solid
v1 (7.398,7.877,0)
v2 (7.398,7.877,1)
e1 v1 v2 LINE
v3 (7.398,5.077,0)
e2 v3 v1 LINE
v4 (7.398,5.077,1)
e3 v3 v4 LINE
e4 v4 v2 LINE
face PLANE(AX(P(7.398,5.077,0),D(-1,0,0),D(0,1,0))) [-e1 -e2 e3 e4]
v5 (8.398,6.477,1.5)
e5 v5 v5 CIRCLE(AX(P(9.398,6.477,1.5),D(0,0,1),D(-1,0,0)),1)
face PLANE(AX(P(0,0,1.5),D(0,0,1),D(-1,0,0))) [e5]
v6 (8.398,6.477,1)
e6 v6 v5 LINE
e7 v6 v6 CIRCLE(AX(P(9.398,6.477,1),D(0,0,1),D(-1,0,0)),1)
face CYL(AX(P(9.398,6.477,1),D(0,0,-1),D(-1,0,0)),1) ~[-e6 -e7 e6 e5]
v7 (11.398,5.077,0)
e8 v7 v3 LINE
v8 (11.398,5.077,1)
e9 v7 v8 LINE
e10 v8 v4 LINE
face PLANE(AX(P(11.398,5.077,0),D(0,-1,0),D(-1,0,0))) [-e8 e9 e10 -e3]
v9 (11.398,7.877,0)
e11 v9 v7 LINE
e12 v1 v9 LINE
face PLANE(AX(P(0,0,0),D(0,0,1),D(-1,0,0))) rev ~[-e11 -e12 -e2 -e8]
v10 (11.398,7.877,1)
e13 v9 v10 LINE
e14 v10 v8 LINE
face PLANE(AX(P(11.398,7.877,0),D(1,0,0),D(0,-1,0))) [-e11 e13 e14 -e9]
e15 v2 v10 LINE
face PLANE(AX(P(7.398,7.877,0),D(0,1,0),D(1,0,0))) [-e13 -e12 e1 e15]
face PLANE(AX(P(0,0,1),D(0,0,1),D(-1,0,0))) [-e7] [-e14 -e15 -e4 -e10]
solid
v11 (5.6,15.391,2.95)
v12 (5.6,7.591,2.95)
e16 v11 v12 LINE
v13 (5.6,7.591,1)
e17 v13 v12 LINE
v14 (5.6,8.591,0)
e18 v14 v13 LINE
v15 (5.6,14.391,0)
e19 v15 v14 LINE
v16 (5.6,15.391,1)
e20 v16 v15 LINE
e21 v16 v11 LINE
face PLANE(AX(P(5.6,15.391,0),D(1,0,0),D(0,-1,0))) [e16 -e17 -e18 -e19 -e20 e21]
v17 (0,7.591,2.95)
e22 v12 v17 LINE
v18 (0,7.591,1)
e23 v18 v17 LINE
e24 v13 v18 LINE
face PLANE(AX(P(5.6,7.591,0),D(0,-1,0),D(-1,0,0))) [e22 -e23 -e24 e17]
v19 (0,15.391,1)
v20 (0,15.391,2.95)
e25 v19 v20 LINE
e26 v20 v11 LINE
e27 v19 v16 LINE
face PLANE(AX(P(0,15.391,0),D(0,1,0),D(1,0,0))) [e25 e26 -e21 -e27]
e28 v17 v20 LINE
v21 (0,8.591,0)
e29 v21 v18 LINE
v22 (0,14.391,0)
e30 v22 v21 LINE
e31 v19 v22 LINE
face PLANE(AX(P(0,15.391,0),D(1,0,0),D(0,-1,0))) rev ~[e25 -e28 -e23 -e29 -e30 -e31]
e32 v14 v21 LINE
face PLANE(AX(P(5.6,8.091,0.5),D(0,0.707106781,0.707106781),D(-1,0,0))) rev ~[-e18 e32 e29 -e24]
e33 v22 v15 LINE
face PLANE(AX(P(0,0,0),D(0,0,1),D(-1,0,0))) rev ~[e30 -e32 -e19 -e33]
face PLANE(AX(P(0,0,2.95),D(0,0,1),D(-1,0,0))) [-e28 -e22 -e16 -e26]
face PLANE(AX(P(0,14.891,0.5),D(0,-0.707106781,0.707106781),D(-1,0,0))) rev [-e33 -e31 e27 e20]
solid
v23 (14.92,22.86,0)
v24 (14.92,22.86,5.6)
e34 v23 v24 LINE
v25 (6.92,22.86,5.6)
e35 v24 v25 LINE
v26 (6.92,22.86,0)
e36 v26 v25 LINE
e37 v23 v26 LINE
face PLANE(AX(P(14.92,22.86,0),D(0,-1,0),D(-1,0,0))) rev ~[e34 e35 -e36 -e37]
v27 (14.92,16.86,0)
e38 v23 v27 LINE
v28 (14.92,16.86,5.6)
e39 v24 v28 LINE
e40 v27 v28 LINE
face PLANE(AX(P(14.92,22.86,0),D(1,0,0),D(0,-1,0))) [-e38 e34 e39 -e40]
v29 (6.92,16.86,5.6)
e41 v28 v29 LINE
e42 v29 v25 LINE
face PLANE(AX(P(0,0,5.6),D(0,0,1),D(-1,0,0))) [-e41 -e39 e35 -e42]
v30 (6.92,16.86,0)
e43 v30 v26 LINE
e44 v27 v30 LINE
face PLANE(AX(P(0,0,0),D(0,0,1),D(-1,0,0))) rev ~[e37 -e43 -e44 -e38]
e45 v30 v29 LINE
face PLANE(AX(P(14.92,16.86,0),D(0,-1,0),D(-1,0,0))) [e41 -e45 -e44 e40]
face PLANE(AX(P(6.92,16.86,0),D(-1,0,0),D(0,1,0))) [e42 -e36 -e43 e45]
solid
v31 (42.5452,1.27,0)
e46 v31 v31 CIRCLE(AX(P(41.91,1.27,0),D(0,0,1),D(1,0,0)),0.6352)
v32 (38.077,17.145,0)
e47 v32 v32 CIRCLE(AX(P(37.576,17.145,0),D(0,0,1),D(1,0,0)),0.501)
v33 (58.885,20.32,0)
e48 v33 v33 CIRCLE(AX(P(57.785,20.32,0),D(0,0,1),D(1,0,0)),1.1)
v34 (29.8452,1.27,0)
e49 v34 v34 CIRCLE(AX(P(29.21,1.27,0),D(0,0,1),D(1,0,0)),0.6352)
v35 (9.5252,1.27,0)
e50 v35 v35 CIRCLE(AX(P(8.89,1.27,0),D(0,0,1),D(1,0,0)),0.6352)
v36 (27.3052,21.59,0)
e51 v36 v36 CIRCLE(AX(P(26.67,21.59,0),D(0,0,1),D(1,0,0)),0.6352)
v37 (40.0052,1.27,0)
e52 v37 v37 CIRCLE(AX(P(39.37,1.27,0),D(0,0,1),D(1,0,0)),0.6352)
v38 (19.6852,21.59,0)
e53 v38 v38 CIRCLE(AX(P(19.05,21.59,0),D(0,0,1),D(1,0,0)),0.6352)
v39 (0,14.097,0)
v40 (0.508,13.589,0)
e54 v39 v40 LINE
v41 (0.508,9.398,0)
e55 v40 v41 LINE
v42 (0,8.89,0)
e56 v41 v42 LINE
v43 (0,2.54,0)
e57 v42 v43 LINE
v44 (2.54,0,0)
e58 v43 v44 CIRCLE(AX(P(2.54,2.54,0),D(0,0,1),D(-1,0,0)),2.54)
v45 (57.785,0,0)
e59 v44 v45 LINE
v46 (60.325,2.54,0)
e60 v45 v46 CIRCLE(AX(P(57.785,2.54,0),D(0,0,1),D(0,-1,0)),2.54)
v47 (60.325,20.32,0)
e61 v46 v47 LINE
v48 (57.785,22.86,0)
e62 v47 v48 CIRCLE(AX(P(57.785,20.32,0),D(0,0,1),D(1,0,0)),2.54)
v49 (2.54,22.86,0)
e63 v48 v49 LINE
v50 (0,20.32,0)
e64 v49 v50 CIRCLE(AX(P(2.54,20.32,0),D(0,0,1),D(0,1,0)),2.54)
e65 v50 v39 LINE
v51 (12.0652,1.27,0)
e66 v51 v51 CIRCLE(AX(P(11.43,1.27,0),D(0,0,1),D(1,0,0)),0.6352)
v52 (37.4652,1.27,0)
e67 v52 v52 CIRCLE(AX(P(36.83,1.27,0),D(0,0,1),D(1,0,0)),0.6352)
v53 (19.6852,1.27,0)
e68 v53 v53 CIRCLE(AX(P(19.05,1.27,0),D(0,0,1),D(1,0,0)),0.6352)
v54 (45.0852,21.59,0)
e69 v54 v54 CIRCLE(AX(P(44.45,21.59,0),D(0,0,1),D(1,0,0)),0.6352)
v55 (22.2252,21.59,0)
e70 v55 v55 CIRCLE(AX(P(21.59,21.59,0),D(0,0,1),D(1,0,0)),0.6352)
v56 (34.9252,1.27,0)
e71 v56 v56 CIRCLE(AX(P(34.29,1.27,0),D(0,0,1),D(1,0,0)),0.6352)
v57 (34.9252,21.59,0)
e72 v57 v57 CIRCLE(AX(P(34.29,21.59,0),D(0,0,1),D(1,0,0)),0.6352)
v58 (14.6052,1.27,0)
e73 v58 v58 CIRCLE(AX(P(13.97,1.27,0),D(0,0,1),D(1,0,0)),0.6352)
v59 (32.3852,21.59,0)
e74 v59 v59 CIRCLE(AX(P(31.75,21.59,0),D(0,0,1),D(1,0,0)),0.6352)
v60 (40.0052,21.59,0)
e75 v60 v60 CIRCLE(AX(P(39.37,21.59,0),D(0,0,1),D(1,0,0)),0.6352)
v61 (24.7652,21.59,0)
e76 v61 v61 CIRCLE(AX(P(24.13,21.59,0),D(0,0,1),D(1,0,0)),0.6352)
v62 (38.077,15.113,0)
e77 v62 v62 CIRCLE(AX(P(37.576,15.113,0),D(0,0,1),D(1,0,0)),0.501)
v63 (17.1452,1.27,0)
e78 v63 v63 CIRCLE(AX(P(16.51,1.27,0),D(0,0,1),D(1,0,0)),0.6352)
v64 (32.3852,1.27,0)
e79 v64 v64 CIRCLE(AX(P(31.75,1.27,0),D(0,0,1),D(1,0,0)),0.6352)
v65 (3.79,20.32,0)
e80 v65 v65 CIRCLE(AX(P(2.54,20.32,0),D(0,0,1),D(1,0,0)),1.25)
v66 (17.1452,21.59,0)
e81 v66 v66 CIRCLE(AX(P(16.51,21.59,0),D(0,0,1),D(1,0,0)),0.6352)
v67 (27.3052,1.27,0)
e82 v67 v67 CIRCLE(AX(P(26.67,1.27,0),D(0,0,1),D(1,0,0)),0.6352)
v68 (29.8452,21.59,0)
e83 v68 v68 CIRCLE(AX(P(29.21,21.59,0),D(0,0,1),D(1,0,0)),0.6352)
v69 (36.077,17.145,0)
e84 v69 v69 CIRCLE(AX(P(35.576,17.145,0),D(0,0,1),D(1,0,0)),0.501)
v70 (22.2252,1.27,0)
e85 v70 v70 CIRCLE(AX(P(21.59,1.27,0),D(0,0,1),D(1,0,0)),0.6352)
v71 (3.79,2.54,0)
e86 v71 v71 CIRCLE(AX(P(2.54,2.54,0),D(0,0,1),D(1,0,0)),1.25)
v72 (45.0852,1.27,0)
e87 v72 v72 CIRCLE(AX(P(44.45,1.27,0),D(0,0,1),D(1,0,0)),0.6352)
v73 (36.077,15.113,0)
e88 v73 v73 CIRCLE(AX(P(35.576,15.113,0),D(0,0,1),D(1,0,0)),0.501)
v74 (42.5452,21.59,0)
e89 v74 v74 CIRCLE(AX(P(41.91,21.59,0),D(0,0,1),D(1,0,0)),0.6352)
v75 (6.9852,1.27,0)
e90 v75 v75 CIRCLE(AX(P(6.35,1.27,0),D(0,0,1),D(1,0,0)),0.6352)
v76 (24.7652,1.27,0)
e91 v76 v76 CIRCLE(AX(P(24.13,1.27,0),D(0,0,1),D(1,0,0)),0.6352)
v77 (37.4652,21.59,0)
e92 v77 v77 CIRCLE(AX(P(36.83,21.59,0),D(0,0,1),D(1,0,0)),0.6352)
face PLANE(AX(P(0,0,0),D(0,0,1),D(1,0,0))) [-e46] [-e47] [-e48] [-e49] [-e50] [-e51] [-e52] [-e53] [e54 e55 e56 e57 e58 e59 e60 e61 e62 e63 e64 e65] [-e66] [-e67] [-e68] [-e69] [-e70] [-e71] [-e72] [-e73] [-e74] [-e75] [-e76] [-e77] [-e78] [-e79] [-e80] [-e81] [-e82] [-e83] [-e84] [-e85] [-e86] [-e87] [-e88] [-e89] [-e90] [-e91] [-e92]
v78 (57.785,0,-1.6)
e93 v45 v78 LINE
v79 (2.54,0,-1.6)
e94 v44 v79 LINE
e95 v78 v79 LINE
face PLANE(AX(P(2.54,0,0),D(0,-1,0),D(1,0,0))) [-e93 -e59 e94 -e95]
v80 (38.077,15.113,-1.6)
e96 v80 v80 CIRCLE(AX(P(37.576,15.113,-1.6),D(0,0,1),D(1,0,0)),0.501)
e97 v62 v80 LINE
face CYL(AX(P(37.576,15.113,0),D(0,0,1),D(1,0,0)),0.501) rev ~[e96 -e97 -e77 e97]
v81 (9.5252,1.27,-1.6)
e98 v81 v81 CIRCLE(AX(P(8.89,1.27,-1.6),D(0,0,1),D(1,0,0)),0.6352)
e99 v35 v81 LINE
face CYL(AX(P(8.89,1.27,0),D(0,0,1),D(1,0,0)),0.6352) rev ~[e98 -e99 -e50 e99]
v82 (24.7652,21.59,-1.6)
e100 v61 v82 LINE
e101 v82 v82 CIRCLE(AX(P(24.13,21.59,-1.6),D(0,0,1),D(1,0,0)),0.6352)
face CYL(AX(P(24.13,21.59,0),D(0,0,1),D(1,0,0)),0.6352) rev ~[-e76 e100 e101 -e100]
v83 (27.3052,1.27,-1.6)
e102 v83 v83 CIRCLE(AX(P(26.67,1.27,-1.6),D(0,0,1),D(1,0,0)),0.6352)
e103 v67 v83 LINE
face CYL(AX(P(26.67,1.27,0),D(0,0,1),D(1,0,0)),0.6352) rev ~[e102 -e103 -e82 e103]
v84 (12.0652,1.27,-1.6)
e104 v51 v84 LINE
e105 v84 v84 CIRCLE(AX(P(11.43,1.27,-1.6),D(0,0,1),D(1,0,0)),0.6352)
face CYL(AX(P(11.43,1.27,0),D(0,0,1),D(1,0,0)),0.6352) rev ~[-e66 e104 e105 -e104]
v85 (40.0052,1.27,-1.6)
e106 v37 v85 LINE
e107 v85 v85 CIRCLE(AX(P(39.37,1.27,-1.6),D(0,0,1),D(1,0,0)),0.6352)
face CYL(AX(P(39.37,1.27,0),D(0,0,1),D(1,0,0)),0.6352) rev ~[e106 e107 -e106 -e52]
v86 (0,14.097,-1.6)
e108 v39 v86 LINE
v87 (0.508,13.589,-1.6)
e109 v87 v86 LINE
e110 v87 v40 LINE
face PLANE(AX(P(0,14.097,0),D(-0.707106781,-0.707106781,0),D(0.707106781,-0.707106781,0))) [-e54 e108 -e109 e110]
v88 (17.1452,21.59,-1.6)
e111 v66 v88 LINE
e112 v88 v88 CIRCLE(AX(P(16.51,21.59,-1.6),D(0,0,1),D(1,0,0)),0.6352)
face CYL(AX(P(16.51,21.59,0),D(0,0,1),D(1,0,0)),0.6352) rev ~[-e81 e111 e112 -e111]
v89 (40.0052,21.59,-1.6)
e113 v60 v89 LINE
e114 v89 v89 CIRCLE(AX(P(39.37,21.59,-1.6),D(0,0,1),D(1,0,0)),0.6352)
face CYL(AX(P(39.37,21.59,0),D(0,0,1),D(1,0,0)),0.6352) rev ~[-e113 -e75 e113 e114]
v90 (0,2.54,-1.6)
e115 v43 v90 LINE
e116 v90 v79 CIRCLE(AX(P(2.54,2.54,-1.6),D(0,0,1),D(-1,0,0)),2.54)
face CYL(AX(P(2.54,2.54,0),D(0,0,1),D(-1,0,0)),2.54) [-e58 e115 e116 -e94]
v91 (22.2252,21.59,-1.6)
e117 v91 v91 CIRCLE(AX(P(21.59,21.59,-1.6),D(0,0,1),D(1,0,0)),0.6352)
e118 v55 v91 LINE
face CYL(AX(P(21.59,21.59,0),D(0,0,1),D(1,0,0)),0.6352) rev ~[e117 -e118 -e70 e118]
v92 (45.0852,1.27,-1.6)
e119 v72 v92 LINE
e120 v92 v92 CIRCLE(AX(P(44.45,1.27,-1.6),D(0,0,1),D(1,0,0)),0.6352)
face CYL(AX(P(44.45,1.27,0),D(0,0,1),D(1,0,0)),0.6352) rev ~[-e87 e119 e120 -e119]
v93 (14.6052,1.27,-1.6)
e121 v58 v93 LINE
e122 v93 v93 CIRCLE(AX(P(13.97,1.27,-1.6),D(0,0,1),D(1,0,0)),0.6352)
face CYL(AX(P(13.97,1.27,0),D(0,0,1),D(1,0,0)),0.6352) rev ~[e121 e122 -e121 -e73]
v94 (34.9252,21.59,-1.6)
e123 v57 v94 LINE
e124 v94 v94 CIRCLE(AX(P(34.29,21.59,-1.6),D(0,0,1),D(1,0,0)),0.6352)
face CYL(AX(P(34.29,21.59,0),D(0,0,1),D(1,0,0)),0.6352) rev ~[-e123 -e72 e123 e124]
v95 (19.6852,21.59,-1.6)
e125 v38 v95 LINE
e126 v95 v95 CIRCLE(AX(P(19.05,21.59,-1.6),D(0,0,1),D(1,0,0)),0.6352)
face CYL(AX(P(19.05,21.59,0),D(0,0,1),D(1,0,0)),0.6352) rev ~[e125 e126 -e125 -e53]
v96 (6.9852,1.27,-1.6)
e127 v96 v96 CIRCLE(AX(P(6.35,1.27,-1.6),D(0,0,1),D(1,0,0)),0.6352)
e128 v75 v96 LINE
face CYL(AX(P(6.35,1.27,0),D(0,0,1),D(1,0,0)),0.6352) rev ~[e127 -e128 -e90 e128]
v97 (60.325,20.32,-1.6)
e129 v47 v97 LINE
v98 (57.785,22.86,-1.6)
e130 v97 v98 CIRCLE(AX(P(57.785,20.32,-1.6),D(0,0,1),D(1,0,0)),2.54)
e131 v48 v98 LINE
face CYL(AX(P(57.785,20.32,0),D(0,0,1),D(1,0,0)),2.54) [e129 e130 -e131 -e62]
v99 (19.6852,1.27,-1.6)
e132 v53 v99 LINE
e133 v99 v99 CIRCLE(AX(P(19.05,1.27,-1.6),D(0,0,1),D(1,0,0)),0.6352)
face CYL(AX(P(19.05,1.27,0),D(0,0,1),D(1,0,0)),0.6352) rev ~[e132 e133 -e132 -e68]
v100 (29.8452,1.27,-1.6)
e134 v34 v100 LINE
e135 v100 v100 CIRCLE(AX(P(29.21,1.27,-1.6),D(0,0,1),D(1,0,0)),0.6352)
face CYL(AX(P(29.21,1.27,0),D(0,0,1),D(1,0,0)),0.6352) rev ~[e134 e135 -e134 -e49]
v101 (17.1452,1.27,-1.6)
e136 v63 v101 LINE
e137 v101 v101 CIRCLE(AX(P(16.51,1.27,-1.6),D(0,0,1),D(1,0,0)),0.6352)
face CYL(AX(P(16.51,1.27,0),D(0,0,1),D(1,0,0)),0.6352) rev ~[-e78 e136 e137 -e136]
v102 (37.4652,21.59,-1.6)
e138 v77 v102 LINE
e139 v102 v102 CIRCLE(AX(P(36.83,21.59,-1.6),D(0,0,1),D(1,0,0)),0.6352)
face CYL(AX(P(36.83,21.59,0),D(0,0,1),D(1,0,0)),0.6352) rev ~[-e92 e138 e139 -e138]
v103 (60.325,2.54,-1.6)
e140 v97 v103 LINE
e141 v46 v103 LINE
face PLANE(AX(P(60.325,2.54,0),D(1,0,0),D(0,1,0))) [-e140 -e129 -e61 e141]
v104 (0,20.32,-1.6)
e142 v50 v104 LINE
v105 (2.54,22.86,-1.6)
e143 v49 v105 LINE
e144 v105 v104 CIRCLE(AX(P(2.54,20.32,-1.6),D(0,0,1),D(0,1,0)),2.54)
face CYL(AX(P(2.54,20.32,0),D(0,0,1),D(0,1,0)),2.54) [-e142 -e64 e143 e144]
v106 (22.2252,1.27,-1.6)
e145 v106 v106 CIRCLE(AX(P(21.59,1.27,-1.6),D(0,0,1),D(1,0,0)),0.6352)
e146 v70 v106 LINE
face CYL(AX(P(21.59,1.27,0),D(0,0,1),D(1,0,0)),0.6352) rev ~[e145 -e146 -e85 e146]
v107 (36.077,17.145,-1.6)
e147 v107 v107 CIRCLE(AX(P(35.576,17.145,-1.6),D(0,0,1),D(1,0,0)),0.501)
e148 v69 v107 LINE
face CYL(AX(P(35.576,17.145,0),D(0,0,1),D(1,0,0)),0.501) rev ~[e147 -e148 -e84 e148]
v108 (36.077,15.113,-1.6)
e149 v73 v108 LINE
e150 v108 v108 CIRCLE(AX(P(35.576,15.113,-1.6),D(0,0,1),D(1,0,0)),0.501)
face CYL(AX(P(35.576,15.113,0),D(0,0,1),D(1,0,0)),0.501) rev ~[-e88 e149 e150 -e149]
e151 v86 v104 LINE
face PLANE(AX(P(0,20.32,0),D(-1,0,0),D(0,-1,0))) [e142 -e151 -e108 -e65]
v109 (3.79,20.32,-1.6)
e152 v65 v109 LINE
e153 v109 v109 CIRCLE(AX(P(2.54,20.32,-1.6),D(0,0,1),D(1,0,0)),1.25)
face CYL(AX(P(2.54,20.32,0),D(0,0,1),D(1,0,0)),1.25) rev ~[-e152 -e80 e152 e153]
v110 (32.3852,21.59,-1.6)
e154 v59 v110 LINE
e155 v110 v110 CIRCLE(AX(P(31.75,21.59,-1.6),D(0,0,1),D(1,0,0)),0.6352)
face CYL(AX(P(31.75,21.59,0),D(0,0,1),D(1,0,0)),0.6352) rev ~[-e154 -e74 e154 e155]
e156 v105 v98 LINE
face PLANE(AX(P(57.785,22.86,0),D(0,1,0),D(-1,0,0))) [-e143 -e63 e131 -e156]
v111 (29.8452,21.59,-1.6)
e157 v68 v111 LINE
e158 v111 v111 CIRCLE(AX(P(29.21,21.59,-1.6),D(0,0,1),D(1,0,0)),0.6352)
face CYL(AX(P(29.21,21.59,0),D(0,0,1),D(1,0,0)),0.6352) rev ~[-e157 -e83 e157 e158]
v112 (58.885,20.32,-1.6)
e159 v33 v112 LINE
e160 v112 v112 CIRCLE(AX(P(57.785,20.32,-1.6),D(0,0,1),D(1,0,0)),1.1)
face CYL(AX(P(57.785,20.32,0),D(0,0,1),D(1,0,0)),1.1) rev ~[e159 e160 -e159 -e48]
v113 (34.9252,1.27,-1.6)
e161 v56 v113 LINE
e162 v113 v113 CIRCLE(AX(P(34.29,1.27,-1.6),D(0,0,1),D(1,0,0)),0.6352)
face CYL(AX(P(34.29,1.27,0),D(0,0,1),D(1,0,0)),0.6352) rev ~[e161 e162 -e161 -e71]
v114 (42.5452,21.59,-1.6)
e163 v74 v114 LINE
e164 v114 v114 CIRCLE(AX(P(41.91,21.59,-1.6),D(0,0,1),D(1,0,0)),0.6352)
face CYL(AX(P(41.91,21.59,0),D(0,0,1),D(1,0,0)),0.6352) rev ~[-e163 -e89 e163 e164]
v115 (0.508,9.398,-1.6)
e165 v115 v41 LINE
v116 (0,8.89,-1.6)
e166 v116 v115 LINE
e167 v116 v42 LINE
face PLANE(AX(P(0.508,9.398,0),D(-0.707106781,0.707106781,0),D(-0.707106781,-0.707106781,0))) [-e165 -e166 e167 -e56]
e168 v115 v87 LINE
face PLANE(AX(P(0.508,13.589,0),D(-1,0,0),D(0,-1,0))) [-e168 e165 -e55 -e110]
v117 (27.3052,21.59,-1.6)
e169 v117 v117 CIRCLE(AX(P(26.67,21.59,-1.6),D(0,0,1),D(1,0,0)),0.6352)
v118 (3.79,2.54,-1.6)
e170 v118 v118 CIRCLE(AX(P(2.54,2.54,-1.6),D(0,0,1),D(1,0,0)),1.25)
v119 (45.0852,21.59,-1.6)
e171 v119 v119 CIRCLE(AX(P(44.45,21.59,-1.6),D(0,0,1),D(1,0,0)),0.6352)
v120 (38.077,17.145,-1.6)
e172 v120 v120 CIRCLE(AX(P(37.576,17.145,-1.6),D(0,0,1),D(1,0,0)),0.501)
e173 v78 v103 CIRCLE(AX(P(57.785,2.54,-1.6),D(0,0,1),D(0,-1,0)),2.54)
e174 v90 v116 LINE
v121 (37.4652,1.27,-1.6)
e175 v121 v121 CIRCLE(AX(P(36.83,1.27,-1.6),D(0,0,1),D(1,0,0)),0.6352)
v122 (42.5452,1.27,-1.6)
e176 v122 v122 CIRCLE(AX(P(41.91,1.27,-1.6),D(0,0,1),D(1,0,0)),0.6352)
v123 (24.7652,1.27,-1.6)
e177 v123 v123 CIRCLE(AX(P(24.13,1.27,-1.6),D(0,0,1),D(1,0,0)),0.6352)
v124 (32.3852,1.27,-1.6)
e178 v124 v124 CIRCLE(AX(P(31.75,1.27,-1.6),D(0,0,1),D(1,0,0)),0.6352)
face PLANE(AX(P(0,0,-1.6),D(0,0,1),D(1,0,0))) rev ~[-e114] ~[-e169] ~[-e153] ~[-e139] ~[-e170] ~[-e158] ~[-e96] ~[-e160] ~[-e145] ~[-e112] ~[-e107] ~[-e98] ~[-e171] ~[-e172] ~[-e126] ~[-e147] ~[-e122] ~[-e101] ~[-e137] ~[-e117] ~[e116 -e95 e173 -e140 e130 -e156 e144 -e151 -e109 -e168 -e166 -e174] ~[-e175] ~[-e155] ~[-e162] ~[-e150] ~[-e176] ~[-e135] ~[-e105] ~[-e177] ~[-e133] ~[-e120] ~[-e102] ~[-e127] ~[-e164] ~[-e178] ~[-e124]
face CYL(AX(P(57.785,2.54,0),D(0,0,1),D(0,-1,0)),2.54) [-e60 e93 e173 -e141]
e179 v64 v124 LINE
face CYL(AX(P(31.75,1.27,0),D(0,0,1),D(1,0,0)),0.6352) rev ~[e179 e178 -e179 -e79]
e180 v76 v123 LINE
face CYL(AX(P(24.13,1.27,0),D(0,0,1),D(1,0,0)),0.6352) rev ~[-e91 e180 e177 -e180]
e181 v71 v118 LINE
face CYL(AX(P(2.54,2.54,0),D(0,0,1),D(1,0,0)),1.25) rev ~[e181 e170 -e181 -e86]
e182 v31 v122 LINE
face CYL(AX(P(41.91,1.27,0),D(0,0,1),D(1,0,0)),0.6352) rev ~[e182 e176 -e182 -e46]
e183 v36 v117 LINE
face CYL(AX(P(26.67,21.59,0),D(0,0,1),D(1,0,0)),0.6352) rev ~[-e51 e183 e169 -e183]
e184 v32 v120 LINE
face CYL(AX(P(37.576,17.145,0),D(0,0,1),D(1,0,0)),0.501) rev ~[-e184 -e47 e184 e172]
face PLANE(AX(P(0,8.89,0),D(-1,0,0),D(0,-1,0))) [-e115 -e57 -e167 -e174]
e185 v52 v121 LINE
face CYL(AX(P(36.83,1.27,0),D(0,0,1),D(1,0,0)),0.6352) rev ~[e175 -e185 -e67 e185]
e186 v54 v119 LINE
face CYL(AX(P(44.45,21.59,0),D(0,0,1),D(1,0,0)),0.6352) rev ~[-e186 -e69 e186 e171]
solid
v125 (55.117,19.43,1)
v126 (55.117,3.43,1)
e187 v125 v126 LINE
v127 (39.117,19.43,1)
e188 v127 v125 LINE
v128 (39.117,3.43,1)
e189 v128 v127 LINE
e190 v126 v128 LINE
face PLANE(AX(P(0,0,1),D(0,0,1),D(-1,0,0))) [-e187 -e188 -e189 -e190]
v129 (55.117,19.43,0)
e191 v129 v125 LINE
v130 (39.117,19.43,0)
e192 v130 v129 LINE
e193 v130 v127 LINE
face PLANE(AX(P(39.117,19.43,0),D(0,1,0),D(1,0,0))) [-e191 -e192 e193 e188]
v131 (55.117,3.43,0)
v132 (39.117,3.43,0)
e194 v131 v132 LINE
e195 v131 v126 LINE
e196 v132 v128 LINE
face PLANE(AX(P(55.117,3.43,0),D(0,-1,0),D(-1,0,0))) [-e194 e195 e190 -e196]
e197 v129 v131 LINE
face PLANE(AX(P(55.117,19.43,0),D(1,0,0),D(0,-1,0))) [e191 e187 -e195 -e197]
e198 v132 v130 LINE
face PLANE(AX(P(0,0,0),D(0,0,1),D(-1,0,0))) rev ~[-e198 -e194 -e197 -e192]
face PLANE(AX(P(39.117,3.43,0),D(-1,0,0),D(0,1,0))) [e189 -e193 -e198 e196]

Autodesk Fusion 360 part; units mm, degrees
sketch "Adafruit Feather 32u4 FONA" plane through (0, 0, 0) normal (0, 0, 1) x (1, 0, 0)
  arc A0 (1.895, 14.93) -> (2.295, 14.58) centre (2.27, 14.955) ccw
  line L0 (0, 8.89) -> (0, 2.54)
  arc A1 (60.325, 20.32) -> (57.785, 22.86) centre (57.785, 20.32) ccw
  arc A2 (2.245, 8.28) -> (1.895, 7.83) centre (2.295, 7.88) ccw
  arc A3 (57.785, 0) -> (60.325, 2.54) centre (57.785, 2.54) ccw
  line L1 (2.845, 14.58) -> (2.295, 14.58)
  line L2 (1.895, 14.93) -> (1.895, 15.13)
  arc A4 (1.895, 7.83) -> (2.245, 7.38) centre (2.295, 7.78) ccw
  arc A5 (0, 2.54) -> (2.54, 0) centre (2.54, 2.54) ccw
  arc A6 (2.845, 14.58) -> (3.195, 14.93) centre (2.845, 14.93) ccw
  arc A7 (2.54, 22.86) -> (0, 20.32) centre (2.54, 20.32) ccw
  line L3 (57.785, 22.86) -> (2.54, 22.86)
  line L4 (60.325, 2.54) -> (60.325, 20.32)
  arc A8 (2.295, 15.48) -> (1.895, 15.13) centre (2.27, 15.105) ccw
  line L5 (3.195, 15.13) -> (3.195, 14.93)
  circle A9 centre (57.785, 20.32) radius 1.1
  line L6 (2.54, 0) -> (57.785, 0)
  arc A10 (3.195, 7.83) -> (2.845, 8.28) centre (2.795, 7.88) ccw
  line L7 (0.508, 13.589) -> (0.508, 9.398)
  line L8 (2.845, 7.38) -> (2.245, 7.38)
  line L9 (0.508, 9.398) -> (0, 8.89)
  line L10 (2.245, 8.28) -> (2.845, 8.28)
  line L11 (0, 20.32) -> (0, 14.097)
  line L12 (0, 14.097) -> (0.508, 13.589)
  arc A11 (2.845, 7.38) -> (3.195, 7.83) centre (2.795, 7.78) ccw
  circle A12 centre (4.445, 13.38) radius 0.35
  arc A13 (3.195, 15.13) -> (2.845, 15.48) centre (2.845, 15.13) ccw
  circle A14 centre (4.445, 9.48) radius 0.35
  line L13 (2.295, 15.48) -> (2.845, 15.48)
  circle A15 centre (35.576, 15.113) radius 0.704
  line L14 (3.795, 9.08) -> (1.295, 9.08)
  circle A16 centre (35.576, 17.145) radius 0.704
  circle A17 centre (39.37, 1.27) radius 0.8382
  line L15 (1.295, 9.08) -> (1.295, 6.58)
  line L16 (1.295, 16.28) -> (1.295, 13.78)
  arc A18 (5.999, 8.13) -> (4.691, 8.13) centre (5.345, 8.13) ccw
  circle A19 centre (35.576, 17.145) radius 0.704
  line L17 (3.795, 16.28) -> (1.295, 16.28)
  line L18 (3.795, 6.58) -> (3.795, 9.08)
  line L19 (1.295, 9.08) -> (1.295, 6.58)
  line L20 (5.999, 6.822) -> (5.999, 8.13)
  line L21 (1.295, 13.78) -> (3.795, 13.78)
  line L22 (4.691, 8.13) -> (4.691, 6.822)
  arc A20 (5.999, 8.13) -> (4.691, 8.13) centre (5.345, 8.13) ccw
  arc A21 (4.691, 6.822) -> (5.999, 6.822) centre (5.345, 6.822) ccw
  line L23 (5.999, 6.822) -> (5.999, 8.13)
  line L24 (3.795, 13.78) -> (3.795, 16.28)
  circle A22 centre (37.576, 17.145) radius 0.704
  line L25 (3.795, 9.08) -> (1.295, 9.08)
  circle A23 centre (37.576, 17.145) radius 0.704
  line L26 (1.295, 13.78) -> (3.795, 13.78)
  arc A24 (4.691, 6.822) -> (5.999, 6.822) centre (5.345, 6.822) ccw
  line L27 (1.295, 16.28) -> (1.295, 13.78)
  line L28 (1.295, 6.58) -> (3.795, 6.58)
  arc A25 (5.999, 16.038) -> (4.691, 16.038) centre (5.345, 16.038) ccw
  line L29 (3.795, 13.78) -> (3.795, 16.28)
  line L30 (5.999, 14.73) -> (5.999, 16.038)
  line L31 (5.999, 14.73) -> (5.999, 16.038)
  arc A26 (4.691, 14.73) -> (5.999, 14.73) centre (5.345, 14.73) ccw
  arc A27 (5.999, 16.038) -> (4.691, 16.038) centre (5.345, 16.038) ccw
  line L32 (4.691, 16.038) -> (4.691, 14.73)
  line L33 (4.691, 8.13) -> (4.691, 6.822)
  line L34 (3.795, 6.58) -> (3.795, 9.08)
  arc A28 (4.691, 14.73) -> (5.999, 14.73) centre (5.345, 14.73) ccw
  line L35 (1.295, 6.58) -> (3.795, 6.58)
  line L36 (4.691, 16.038) -> (4.691, 14.73)
  circle A29 centre (37.576, 15.113) radius 0.704
  circle A30 centre (37.576, 15.113) radius 0.704
  circle A31 centre (35.576, 15.113) radius 0.704
  line L37 (3.795, 16.28) -> (1.295, 16.28)
  circle A32 centre (21.59, 21.59) radius 0.8382
  circle A33 centre (41.91, 1.27) radius 0.8382
  circle A34 centre (44.45, 1.27) radius 0.8382
  circle A35 centre (41.91, 1.27) radius 0.8382
  circle A36 centre (2.54, 20.32) radius 1.758
  circle A37 centre (2.54, 2.54) radius 1.758
  circle A38 centre (2.54, 2.54) radius 1.758
  circle A39 centre (2.54, 20.32) radius 1.758
  circle A40 centre (24.13, 21.59) radius 0.8382
  circle A41 centre (21.59, 21.59) radius 0.8382
  circle A42 centre (24.13, 21.59) radius 0.8382
  circle A43 centre (41.91, 21.59) radius 0.8382
  circle A44 centre (41.91, 21.59) radius 0.8382
  circle A45 centre (44.45, 21.59) radius 0.8382
  circle A46 centre (44.45, 21.59) radius 0.8382
  circle A47 centre (36.83, 21.59) radius 0.8382
  circle A48 centre (19.05, 21.59) radius 0.8382
  circle A49 centre (16.51, 21.59) radius 0.8382
  circle A50 centre (21.59, 1.27) radius 0.8382
  circle A51 centre (21.59, 1.27) radius 0.8382
  circle A52 centre (24.13, 1.27) radius 0.8382
  circle A53 centre (11.43, 1.27) radius 0.8382
  circle A54 centre (19.05, 21.59) radius 0.8382
  circle A55 centre (24.13, 1.27) radius 0.8382
  circle A56 centre (26.67, 1.27) radius 0.8382
  circle A57 centre (16.51, 1.27) radius 0.8382
  circle A58 centre (16.51, 1.27) radius 0.8382
  circle A59 centre (16.51, 21.59) radius 0.8382
  circle A60 centre (39.37, 21.59) radius 0.8382
  circle A61 centre (36.83, 21.59) radius 0.8382
  circle A62 centre (39.37, 21.59) radius 0.8382
  circle A63 centre (31.75, 1.27) radius 0.8382
  circle A64 centre (31.75, 1.27) radius 0.8382
  circle A65 centre (29.21, 1.27) radius 0.8382
  circle A66 centre (29.21, 1.27) radius 0.8382
  circle A67 centre (26.67, 1.27) radius 0.8382
  circle A68 centre (8.89, 1.27) radius 0.8382
  circle A69 centre (34.29, 1.27) radius 0.8382
  circle A70 centre (6.35, 1.27) radius 0.8382
  circle A71 centre (8.89, 1.27) radius 0.8382
  circle A72 centre (6.35, 1.27) radius 0.8382
  circle A73 centre (31.75, 21.59) radius 0.8382
  circle A74 centre (31.75, 21.59) radius 0.8382
  circle A75 centre (34.29, 21.59) radius 0.8382
  circle A76 centre (34.29, 1.27) radius 0.8382
  circle A77 centre (29.21, 21.59) radius 0.8382
  circle A78 centre (34.29, 21.59) radius 0.8382
  circle A79 centre (26.67, 21.59) radius 0.8382
  circle A80 centre (11.43, 1.27) radius 0.8382
  circle A81 centre (39.37, 1.27) radius 0.8382
  circle A82 centre (13.97, 1.27) radius 0.8382
  circle A83 centre (26.67, 21.59) radius 0.8382
  circle A84 centre (36.83, 1.27) radius 0.8382
  circle A85 centre (44.45, 1.27) radius 0.8382
  circle A86 centre (19.05, 1.27) radius 0.8382
  circle A87 centre (19.05, 1.27) radius 0.8382
  circle A88 centre (13.97, 1.27) radius 0.8382
  circle A89 centre (29.21, 21.59) radius 0.8382
  circle A90 centre (36.83, 1.27) radius 0.8382
  circle A91 centre (2.54, 2.54) radius 1.25
  circle A92 centre (2.54, 20.32) radius 1.25
  dimension "d1" = 2.5
  dimension "d2" = 2.5
extrude "Extrude1" add sketch "Adafruit Feather 32u4 FONA" against normal blind 1.6 contours A0 L1 L2 A6 A8 L5 A13 L13 | L0 A1 A3 A5 A7 L3 L4 L6 L7 L9 L11 L12 | A2 A4 A10 L8 L10 A11 | A12 | A14 | L14 L15 L18 L19 L25 L28 L34 L35 | L16 L17 L21 L24 L26 L27 L29 L37 | A18 L20 L22 A20 A21 L23 A24 L33 | A25 L30 L31 A26 A27 L32 A28 L36 | A36 A39 | A37 A38 makes body 1
move_face "OffsetFaces1" offset 0.203 32 faces at (44.5542, 2.1017, -1.0667) (42.0142, 2.1017, -1.0667) (39.4742, 2.1017, -1.0667) (36.9342, 2.1017, -1.0667) (34.3942, 2.1017, -1.0667) (32.2048, 1.9741, -1.0667) (30.044, 1.1865, -1.0667) (27.504, 1.1865, -1.0667) (24.964, 1.1865, -1.0667) (22.424, 1.1865, -1.0667) (19.884, 1.1865, -1.0667) (17.344, 1.1865, -1.0667) (14.804, 1.1865, -1.0667) (12.264, 1.1865, -1.0667) (9.724, 1.1865, -1.0667) (7.184, 1.1865, -1.0667) (17.3316, 21.4239, -1.0667) (19.8716, 21.4239, -1.0667) (22.4116, 21.4239, -1.0667) (24.9516, 21.4239, -1.0667) (27.4916, 21.4239, -1.0667) (30.0316, 21.4239, -1.0667) (32.2048, 22.2941, -1.0667) (33.6218, 22.0961, -1.0667) (36.1618, 22.0961, -1.0667) (38.7018, 22.0961, -1.0667) (41.2418, 22.0961, -1.0667) (43.7818, 22.0961, -1.0667) (37.958, 15.7044, -1.0667) (35.958, 15.7044, -1.0667) (35.958, 17.7364, -1.0667) (37.958, 17.7364, -1.0667) on bodies 1
sketch "microUSB" plane through (0, 0, 0) normal (0, 0, 1) x (-1, 0, 0)
  circle A0 centre (-36.83, -21.59) radius 0.6352
  circle A1 centre (-44.45, -21.59) radius 0.6352
  circle A2 centre (-29.21, -1.27) radius 0.6352
  circle A3 centre (-26.67, -1.27) radius 0.6352
  circle A4 centre (-8.89, -1.27) radius 0.6352
  circle A5 centre (-35.576, -17.145) radius 0.501
  circle A6 centre (-36.83, -1.27) radius 0.6352
  circle A7 centre (-29.21, -21.59) radius 0.6352
  circle A8 centre (-13.97, -1.27) radius 0.6352
  circle A9 centre (-19.05, -1.27) radius 0.6352
  circle A10 centre (-44.45, -1.27) radius 0.6352
  circle A11 centre (-26.67, -21.59) radius 0.6352
  circle A12 centre (-39.37, -1.27) radius 0.6352
  circle A13 centre (-39.37, -21.59) radius 0.6352
  circle A14 centre (-41.91, -1.27) radius 0.6352
  circle A15 centre (-6.35, -1.27) radius 0.6352
  circle A16 centre (-16.51, -21.59) radius 0.6352
  circle A17 centre (-16.51, -1.27) radius 0.6352
  circle A18 centre (-19.05, -21.59) radius 0.6352
  circle A19 centre (-31.75, -1.27) radius 0.6352
  circle A20 centre (-21.59, -1.27) radius 0.6352
  circle A21 centre (-11.43, -1.27) radius 0.6352
  circle A22 centre (-37.576, -15.113) radius 0.501
  circle A23 centre (-57.785, -20.32) radius 1.1
  circle A24 centre (-2.54, -20.32) radius 1.25
  circle A25 centre (-2.54, -2.54) radius 1.25
  circle A26 centre (-37.576, -17.145) radius 0.501
  circle A27 centre (-35.576, -15.113) radius 0.501
  circle A28 centre (-31.75, -21.59) radius 0.6352
  circle A29 centre (-24.13, -1.27) radius 0.6352
  circle A30 centre (-34.29, -21.59) radius 0.6352
  circle A31 centre (-41.91, -21.59) radius 0.6352
  circle A32 centre (-21.59, -21.59) radius 0.6352
  circle A33 centre (-34.29, -1.27) radius 0.6352
  circle A34 centre (-24.13, -21.59) radius 0.6352
  line L0 (0, -14.097) -> (-0.508, -13.589)
  line L1 (-0.508, -13.589) -> (-0.508, -9.398)
  line L2 (-0.508, -9.398) -> (0, -8.89)
  line L3 (0, -8.89) -> (0, -2.54)
  arc A35 (0, -2.54) -> (-2.54, 0) centre (-2.54, -2.54) ccw
  line L4 (-2.54, 0) -> (-57.785, 0)
  arc A36 (-57.785, 0) -> (-60.325, -2.54) centre (-57.785, -2.54) ccw
  line L5 (-60.325, -2.54) -> (-60.325, -20.32)
  arc A37 (-60.325, -20.32) -> (-57.785, -22.86) centre (-57.785, -20.32) ccw
  line L6 (-57.785, -22.86) -> (-2.54, -22.86)
  arc A38 (-2.54, -22.86) -> (0, -20.32) centre (-2.54, -20.32) ccw
  line L7 (0, -20.32) -> (0, -14.097)
  line L8 (-0.508, -11.4935) -> (-60.325, -11.43) construction
  line L9 (0, -15.391) -> (-5.6, -15.391)
  line L10 (-5.6, -15.391) -> (-5.6, -7.591)
  line L11 (-5.6, -7.591) -> (0, -7.591)
  line L12 (0, -7.591) -> (0, -15.391)
  line L13 (-5.6, -11.491) -> (0, -11.491) construction
  line L14 (0, -14.097) -> (0, -8.89) construction
  dimension "d9" = 11.369
  dimension "d10" = 7.8
  dimension "d11" = 5.6
extrude "Extrude2" add sketch "microUSB" along normal blind 2.95 separate body contours L0 L1 L2 L3 L7 L9 L10 L11 L12 | L0 L1 L2 L12 makes body 2
chamfer "Chamfer1" distance 1 angle 45 2 edges at (2.8, 7.591, 0) (2.8, 15.391, 0) on bodies 2
sketch "JST 2-pin" plane through (0, 0, 0) normal (0, 0, 1) x (-1, 0, 0)
  circle A0 centre (-36.83, -21.59) radius 0.6352
  circle A1 centre (-44.45, -21.59) radius 0.6352
  circle A2 centre (-29.21, -1.27) radius 0.6352
  circle A3 centre (-26.67, -1.27) radius 0.6352
  circle A4 centre (-8.89, -1.27) radius 0.6352
  circle A5 centre (-35.576, -17.145) radius 0.501
  circle A6 centre (-36.83, -1.27) radius 0.6352
  circle A7 centre (-29.21, -21.59) radius 0.6352
  circle A8 centre (-13.97, -1.27) radius 0.6352
  circle A9 centre (-19.05, -1.27) radius 0.6352
  circle A10 centre (-44.45, -1.27) radius 0.6352
  circle A11 centre (-26.67, -21.59) radius 0.6352
  circle A12 centre (-39.37, -1.27) radius 0.6352
  circle A13 centre (-39.37, -21.59) radius 0.6352
  circle A14 centre (-41.91, -1.27) radius 0.6352
  circle A15 centre (-6.35, -1.27) radius 0.6352
  circle A16 centre (-16.51, -21.59) radius 0.6352
  circle A17 centre (-16.51, -1.27) radius 0.6352
  circle A18 centre (-19.05, -21.59) radius 0.6352
  circle A19 centre (-31.75, -1.27) radius 0.6352
  circle A20 centre (-21.59, -1.27) radius 0.6352
  circle A21 centre (-11.43, -1.27) radius 0.6352
  circle A22 centre (-37.576, -15.113) radius 0.501
  circle A23 centre (-57.785, -20.32) radius 1.1
  circle A24 centre (-2.54, -20.32) radius 1.25
  circle A25 centre (-2.54, -2.54) radius 1.25
  circle A26 centre (-37.576, -17.145) radius 0.501
  circle A27 centre (-35.576, -15.113) radius 0.501
  circle A28 centre (-31.75, -21.59) radius 0.6352
  circle A29 centre (-24.13, -1.27) radius 0.6352
  circle A30 centre (-34.29, -21.59) radius 0.6352
  circle A31 centre (-41.91, -21.59) radius 0.6352
  circle A32 centre (-21.59, -21.59) radius 0.6352
  circle A33 centre (-34.29, -1.27) radius 0.6352
  circle A34 centre (-24.13, -21.59) radius 0.6352
  line L0 (0, -14.097) -> (-0.508, -13.589)
  line L1 (-0.508, -13.589) -> (-0.508, -9.398)
  line L2 (-0.508, -9.398) -> (0, -8.89)
  line L3 (0, -8.89) -> (0, -2.54)
  arc A35 (0, -2.54) -> (-2.54, 0) centre (-2.54, -2.54) ccw
  line L4 (-2.54, 0) -> (-57.785, 0)
  arc A36 (-57.785, 0) -> (-60.325, -2.54) centre (-57.785, -2.54) ccw
  line L5 (-60.325, -2.54) -> (-60.325, -20.32)
  arc A37 (-60.325, -20.32) -> (-57.785, -22.86) centre (-57.785, -20.32) ccw
  line L6 (-57.785, -22.86) -> (-2.54, -22.86)
  arc A38 (-2.54, -22.86) -> (0, -20.32) centre (-2.54, -20.32) ccw
  line L7 (0, -20.32) -> (0, -14.097)
  line L8 (-6.92, -22.86) -> (-14.92, -22.86)
  line L9 (-14.92, -22.86) -> (-14.92, -16.86)
  line L10 (-14.92, -16.86) -> (-6.92, -16.86)
  line L11 (-6.92, -16.86) -> (-6.92, -22.86)
  line L12 (-10.92, -22.86) -> (-10.92, -16.86) construction
  dimension "d15" = 8
  dimension "d16" = 6
  dimension "d17" = 10.92
extrude "Extrude3" add sketch "JST 2-pin" along normal blind 5.6 separate body contours L6 L8 L9 L10 L11 makes body 3
sketch "sim800h" plane through (0, 0, 0) normal (0, 0, 1) x (-1, 0, 0)
  circle A0 centre (-36.83, -21.59) radius 0.6352
  circle A1 centre (-44.45, -21.59) radius 0.6352
  circle A2 centre (-29.21, -1.27) radius 0.6352
  circle A3 centre (-26.67, -1.27) radius 0.6352
  circle A4 centre (-8.89, -1.27) radius 0.6352
  circle A5 centre (-35.576, -17.145) radius 0.501
  circle A6 centre (-36.83, -1.27) radius 0.6352
  circle A7 centre (-29.21, -21.59) radius 0.6352
  circle A8 centre (-13.97, -1.27) radius 0.6352
  circle A9 centre (-19.05, -1.27) radius 0.6352
  circle A10 centre (-44.45, -1.27) radius 0.6352
  circle A11 centre (-26.67, -21.59) radius 0.6352
  circle A12 centre (-39.37, -1.27) radius 0.6352
  circle A13 centre (-39.37, -21.59) radius 0.6352
  circle A14 centre (-41.91, -1.27) radius 0.6352
  circle A15 centre (-6.35, -1.27) radius 0.6352
  circle A16 centre (-16.51, -21.59) radius 0.6352
  circle A17 centre (-16.51, -1.27) radius 0.6352
  circle A18 centre (-19.05, -21.59) radius 0.6352
  circle A19 centre (-31.75, -1.27) radius 0.6352
  circle A20 centre (-21.59, -1.27) radius 0.6352
  circle A21 centre (-11.43, -1.27) radius 0.6352
  circle A22 centre (-37.576, -15.113) radius 0.501
  circle A23 centre (-57.785, -20.32) radius 1.1
  circle A24 centre (-2.54, -20.32) radius 1.25
  circle A25 centre (-2.54, -2.54) radius 1.25
  circle A26 centre (-37.576, -17.145) radius 0.501
  circle A27 centre (-35.576, -15.113) radius 0.501
  circle A28 centre (-31.75, -21.59) radius 0.6352
  circle A29 centre (-24.13, -1.27) radius 0.6352
  circle A30 centre (-34.29, -21.59) radius 0.6352
  circle A31 centre (-41.91, -21.59) radius 0.6352
  circle A32 centre (-21.59, -21.59) radius 0.6352
  circle A33 centre (-34.29, -1.27) radius 0.6352
  circle A34 centre (-24.13, -21.59) radius 0.6352
  line L0 (0, -14.097) -> (-0.508, -13.589)
  line L1 (-0.508, -13.589) -> (-0.508, -9.398)
  line L2 (-0.508, -9.398) -> (0, -8.89)
  line L3 (0, -8.89) -> (0, -2.54)
  arc A35 (0, -2.54) -> (-2.54, 0) centre (-2.54, -2.54) ccw
  line L4 (-2.54, 0) -> (-57.785, 0)
  arc A36 (-57.785, 0) -> (-60.325, -2.54) centre (-57.785, -2.54) ccw
  line L5 (-60.325, -2.54) -> (-60.325, -20.32)
  arc A37 (-60.325, -20.32) -> (-57.785, -22.86) centre (-57.785, -20.32) ccw
  line L6 (-57.785, -22.86) -> (-2.54, -22.86)
  arc A38 (-2.54, -22.86) -> (0, -20.32) centre (-2.54, -20.32) ccw
  line L7 (0, -20.32) -> (0, -14.097)
  line L8 (-55.117, -3.43) -> (-39.117, -3.43)
  line L9 (-39.117, -3.43) -> (-39.117, -19.43)
  line L10 (-39.117, -19.43) -> (-55.117, -19.43)
  line L11 (-55.117, -19.43) -> (-55.117, -3.43)
  line L12 (-55.117, -3.43) -> (-39.117, -19.43) construction
  line L13 (-39.117, -3.43) -> (-55.117, -19.43) construction
  point P0 (-47.117, -11.43)
  dimension "d20" = 16
  dimension "d21" = 16
  dimension "d22" = 11.43
  dimension "d23" = 47.117
extrude "Extrude4" add sketch "sim800h" along normal blind 1 separate body contours L8 L9 L10 L11 makes body 4
sketch "reset switch" plane through (0, 0, 0) normal (0, 0, 1) x (-1, 0, 0)
  circle A0 centre (-36.83, -21.59) radius 0.6352
  circle A1 centre (-44.45, -21.59) radius 0.6352
  circle A2 centre (-29.21, -1.27) radius 0.6352
  circle A3 centre (-26.67, -1.27) radius 0.6352
  circle A4 centre (-8.89, -1.27) radius 0.6352
  circle A5 centre (-35.576, -17.145) radius 0.501
  circle A6 centre (-36.83, -1.27) radius 0.6352
  circle A7 centre (-29.21, -21.59) radius 0.6352
  circle A8 centre (-13.97, -1.27) radius 0.6352
  circle A9 centre (-19.05, -1.27) radius 0.6352
  circle A10 centre (-44.45, -1.27) radius 0.6352
  circle A11 centre (-26.67, -21.59) radius 0.6352
  circle A12 centre (-39.37, -1.27) radius 0.6352
  circle A13 centre (-39.37, -21.59) radius 0.6352
  circle A14 centre (-41.91, -1.27) radius 0.6352
  circle A15 centre (-6.35, -1.27) radius 0.6352
  circle A16 centre (-16.51, -21.59) radius 0.6352
  circle A17 centre (-16.51, -1.27) radius 0.6352
  circle A18 centre (-19.05, -21.59) radius 0.6352
  circle A19 centre (-31.75, -1.27) radius 0.6352
  circle A20 centre (-21.59, -1.27) radius 0.6352
  circle A21 centre (-11.43, -1.27) radius 0.6352
  circle A22 centre (-37.576, -15.113) radius 0.501
  circle A23 centre (-57.785, -20.32) radius 1.1
  circle A24 centre (-2.54, -20.32) radius 1.25
  circle A25 centre (-2.54, -2.54) radius 1.25
  circle A26 centre (-37.576, -17.145) radius 0.501
  circle A27 centre (-35.576, -15.113) radius 0.501
  circle A28 centre (-31.75, -21.59) radius 0.6352
  circle A29 centre (-24.13, -1.27) radius 0.6352
  circle A30 centre (-34.29, -21.59) radius 0.6352
  circle A31 centre (-41.91, -21.59) radius 0.6352
  circle A32 centre (-21.59, -21.59) radius 0.6352
  circle A33 centre (-34.29, -1.27) radius 0.6352
  circle A34 centre (-24.13, -21.59) radius 0.6352
  line L0 (0, -14.097) -> (-0.508, -13.589)
  line L1 (-0.508, -13.589) -> (-0.508, -9.398)
  line L2 (-0.508, -9.398) -> (0, -8.89)
  line L3 (0, -8.89) -> (0, -2.54)
  arc A35 (0, -2.54) -> (-2.54, 0) centre (-2.54, -2.54) ccw
  line L4 (-2.54, 0) -> (-57.785, 0)
  arc A36 (-57.785, 0) -> (-60.325, -2.54) centre (-57.785, -2.54) ccw
  line L5 (-60.325, -2.54) -> (-60.325, -20.32)
  arc A37 (-60.325, -20.32) -> (-57.785, -22.86) centre (-57.785, -20.32) ccw
  line L6 (-57.785, -22.86) -> (-2.54, -22.86)
  arc A38 (-2.54, -22.86) -> (0, -20.32) centre (-2.54, -20.32) ccw
  line L7 (0, -20.32) -> (0, -14.097)
  line L8 (-11.398, -5.077) -> (-7.398, -5.077)
  line L9 (-7.398, -5.077) -> (-7.398, -7.877)
  line L10 (-7.398, -7.877) -> (-11.398, -7.877)
  line L11 (-11.398, -7.877) -> (-11.398, -5.077)
  line L12 (-11.398, -5.077) -> (-7.398, -7.877) construction
  line L13 (-7.398, -5.077) -> (-11.398, -7.877) construction
  circle A39 centre (-9.398, -6.477) radius 1
  point P0 (-9.398, -6.477)
  dimension "d26" = 4
  dimension "d27" = 2.8
  dimension "d28" = 9.398
  dimension "d29" = 6.477
  dimension "d30" = 2
extrude "Extrude5" add sketch "reset switch" along normal blind 1 separate body contours L8 L9 L10 L11 | A39 makes body 5
extrude "Extrude6" add sketch "reset switch" along normal blind 0.5 from surface at 1 contours A39 bodies 5
equation "d6 = ( 0.406 / 2 ) * 1 mm"
